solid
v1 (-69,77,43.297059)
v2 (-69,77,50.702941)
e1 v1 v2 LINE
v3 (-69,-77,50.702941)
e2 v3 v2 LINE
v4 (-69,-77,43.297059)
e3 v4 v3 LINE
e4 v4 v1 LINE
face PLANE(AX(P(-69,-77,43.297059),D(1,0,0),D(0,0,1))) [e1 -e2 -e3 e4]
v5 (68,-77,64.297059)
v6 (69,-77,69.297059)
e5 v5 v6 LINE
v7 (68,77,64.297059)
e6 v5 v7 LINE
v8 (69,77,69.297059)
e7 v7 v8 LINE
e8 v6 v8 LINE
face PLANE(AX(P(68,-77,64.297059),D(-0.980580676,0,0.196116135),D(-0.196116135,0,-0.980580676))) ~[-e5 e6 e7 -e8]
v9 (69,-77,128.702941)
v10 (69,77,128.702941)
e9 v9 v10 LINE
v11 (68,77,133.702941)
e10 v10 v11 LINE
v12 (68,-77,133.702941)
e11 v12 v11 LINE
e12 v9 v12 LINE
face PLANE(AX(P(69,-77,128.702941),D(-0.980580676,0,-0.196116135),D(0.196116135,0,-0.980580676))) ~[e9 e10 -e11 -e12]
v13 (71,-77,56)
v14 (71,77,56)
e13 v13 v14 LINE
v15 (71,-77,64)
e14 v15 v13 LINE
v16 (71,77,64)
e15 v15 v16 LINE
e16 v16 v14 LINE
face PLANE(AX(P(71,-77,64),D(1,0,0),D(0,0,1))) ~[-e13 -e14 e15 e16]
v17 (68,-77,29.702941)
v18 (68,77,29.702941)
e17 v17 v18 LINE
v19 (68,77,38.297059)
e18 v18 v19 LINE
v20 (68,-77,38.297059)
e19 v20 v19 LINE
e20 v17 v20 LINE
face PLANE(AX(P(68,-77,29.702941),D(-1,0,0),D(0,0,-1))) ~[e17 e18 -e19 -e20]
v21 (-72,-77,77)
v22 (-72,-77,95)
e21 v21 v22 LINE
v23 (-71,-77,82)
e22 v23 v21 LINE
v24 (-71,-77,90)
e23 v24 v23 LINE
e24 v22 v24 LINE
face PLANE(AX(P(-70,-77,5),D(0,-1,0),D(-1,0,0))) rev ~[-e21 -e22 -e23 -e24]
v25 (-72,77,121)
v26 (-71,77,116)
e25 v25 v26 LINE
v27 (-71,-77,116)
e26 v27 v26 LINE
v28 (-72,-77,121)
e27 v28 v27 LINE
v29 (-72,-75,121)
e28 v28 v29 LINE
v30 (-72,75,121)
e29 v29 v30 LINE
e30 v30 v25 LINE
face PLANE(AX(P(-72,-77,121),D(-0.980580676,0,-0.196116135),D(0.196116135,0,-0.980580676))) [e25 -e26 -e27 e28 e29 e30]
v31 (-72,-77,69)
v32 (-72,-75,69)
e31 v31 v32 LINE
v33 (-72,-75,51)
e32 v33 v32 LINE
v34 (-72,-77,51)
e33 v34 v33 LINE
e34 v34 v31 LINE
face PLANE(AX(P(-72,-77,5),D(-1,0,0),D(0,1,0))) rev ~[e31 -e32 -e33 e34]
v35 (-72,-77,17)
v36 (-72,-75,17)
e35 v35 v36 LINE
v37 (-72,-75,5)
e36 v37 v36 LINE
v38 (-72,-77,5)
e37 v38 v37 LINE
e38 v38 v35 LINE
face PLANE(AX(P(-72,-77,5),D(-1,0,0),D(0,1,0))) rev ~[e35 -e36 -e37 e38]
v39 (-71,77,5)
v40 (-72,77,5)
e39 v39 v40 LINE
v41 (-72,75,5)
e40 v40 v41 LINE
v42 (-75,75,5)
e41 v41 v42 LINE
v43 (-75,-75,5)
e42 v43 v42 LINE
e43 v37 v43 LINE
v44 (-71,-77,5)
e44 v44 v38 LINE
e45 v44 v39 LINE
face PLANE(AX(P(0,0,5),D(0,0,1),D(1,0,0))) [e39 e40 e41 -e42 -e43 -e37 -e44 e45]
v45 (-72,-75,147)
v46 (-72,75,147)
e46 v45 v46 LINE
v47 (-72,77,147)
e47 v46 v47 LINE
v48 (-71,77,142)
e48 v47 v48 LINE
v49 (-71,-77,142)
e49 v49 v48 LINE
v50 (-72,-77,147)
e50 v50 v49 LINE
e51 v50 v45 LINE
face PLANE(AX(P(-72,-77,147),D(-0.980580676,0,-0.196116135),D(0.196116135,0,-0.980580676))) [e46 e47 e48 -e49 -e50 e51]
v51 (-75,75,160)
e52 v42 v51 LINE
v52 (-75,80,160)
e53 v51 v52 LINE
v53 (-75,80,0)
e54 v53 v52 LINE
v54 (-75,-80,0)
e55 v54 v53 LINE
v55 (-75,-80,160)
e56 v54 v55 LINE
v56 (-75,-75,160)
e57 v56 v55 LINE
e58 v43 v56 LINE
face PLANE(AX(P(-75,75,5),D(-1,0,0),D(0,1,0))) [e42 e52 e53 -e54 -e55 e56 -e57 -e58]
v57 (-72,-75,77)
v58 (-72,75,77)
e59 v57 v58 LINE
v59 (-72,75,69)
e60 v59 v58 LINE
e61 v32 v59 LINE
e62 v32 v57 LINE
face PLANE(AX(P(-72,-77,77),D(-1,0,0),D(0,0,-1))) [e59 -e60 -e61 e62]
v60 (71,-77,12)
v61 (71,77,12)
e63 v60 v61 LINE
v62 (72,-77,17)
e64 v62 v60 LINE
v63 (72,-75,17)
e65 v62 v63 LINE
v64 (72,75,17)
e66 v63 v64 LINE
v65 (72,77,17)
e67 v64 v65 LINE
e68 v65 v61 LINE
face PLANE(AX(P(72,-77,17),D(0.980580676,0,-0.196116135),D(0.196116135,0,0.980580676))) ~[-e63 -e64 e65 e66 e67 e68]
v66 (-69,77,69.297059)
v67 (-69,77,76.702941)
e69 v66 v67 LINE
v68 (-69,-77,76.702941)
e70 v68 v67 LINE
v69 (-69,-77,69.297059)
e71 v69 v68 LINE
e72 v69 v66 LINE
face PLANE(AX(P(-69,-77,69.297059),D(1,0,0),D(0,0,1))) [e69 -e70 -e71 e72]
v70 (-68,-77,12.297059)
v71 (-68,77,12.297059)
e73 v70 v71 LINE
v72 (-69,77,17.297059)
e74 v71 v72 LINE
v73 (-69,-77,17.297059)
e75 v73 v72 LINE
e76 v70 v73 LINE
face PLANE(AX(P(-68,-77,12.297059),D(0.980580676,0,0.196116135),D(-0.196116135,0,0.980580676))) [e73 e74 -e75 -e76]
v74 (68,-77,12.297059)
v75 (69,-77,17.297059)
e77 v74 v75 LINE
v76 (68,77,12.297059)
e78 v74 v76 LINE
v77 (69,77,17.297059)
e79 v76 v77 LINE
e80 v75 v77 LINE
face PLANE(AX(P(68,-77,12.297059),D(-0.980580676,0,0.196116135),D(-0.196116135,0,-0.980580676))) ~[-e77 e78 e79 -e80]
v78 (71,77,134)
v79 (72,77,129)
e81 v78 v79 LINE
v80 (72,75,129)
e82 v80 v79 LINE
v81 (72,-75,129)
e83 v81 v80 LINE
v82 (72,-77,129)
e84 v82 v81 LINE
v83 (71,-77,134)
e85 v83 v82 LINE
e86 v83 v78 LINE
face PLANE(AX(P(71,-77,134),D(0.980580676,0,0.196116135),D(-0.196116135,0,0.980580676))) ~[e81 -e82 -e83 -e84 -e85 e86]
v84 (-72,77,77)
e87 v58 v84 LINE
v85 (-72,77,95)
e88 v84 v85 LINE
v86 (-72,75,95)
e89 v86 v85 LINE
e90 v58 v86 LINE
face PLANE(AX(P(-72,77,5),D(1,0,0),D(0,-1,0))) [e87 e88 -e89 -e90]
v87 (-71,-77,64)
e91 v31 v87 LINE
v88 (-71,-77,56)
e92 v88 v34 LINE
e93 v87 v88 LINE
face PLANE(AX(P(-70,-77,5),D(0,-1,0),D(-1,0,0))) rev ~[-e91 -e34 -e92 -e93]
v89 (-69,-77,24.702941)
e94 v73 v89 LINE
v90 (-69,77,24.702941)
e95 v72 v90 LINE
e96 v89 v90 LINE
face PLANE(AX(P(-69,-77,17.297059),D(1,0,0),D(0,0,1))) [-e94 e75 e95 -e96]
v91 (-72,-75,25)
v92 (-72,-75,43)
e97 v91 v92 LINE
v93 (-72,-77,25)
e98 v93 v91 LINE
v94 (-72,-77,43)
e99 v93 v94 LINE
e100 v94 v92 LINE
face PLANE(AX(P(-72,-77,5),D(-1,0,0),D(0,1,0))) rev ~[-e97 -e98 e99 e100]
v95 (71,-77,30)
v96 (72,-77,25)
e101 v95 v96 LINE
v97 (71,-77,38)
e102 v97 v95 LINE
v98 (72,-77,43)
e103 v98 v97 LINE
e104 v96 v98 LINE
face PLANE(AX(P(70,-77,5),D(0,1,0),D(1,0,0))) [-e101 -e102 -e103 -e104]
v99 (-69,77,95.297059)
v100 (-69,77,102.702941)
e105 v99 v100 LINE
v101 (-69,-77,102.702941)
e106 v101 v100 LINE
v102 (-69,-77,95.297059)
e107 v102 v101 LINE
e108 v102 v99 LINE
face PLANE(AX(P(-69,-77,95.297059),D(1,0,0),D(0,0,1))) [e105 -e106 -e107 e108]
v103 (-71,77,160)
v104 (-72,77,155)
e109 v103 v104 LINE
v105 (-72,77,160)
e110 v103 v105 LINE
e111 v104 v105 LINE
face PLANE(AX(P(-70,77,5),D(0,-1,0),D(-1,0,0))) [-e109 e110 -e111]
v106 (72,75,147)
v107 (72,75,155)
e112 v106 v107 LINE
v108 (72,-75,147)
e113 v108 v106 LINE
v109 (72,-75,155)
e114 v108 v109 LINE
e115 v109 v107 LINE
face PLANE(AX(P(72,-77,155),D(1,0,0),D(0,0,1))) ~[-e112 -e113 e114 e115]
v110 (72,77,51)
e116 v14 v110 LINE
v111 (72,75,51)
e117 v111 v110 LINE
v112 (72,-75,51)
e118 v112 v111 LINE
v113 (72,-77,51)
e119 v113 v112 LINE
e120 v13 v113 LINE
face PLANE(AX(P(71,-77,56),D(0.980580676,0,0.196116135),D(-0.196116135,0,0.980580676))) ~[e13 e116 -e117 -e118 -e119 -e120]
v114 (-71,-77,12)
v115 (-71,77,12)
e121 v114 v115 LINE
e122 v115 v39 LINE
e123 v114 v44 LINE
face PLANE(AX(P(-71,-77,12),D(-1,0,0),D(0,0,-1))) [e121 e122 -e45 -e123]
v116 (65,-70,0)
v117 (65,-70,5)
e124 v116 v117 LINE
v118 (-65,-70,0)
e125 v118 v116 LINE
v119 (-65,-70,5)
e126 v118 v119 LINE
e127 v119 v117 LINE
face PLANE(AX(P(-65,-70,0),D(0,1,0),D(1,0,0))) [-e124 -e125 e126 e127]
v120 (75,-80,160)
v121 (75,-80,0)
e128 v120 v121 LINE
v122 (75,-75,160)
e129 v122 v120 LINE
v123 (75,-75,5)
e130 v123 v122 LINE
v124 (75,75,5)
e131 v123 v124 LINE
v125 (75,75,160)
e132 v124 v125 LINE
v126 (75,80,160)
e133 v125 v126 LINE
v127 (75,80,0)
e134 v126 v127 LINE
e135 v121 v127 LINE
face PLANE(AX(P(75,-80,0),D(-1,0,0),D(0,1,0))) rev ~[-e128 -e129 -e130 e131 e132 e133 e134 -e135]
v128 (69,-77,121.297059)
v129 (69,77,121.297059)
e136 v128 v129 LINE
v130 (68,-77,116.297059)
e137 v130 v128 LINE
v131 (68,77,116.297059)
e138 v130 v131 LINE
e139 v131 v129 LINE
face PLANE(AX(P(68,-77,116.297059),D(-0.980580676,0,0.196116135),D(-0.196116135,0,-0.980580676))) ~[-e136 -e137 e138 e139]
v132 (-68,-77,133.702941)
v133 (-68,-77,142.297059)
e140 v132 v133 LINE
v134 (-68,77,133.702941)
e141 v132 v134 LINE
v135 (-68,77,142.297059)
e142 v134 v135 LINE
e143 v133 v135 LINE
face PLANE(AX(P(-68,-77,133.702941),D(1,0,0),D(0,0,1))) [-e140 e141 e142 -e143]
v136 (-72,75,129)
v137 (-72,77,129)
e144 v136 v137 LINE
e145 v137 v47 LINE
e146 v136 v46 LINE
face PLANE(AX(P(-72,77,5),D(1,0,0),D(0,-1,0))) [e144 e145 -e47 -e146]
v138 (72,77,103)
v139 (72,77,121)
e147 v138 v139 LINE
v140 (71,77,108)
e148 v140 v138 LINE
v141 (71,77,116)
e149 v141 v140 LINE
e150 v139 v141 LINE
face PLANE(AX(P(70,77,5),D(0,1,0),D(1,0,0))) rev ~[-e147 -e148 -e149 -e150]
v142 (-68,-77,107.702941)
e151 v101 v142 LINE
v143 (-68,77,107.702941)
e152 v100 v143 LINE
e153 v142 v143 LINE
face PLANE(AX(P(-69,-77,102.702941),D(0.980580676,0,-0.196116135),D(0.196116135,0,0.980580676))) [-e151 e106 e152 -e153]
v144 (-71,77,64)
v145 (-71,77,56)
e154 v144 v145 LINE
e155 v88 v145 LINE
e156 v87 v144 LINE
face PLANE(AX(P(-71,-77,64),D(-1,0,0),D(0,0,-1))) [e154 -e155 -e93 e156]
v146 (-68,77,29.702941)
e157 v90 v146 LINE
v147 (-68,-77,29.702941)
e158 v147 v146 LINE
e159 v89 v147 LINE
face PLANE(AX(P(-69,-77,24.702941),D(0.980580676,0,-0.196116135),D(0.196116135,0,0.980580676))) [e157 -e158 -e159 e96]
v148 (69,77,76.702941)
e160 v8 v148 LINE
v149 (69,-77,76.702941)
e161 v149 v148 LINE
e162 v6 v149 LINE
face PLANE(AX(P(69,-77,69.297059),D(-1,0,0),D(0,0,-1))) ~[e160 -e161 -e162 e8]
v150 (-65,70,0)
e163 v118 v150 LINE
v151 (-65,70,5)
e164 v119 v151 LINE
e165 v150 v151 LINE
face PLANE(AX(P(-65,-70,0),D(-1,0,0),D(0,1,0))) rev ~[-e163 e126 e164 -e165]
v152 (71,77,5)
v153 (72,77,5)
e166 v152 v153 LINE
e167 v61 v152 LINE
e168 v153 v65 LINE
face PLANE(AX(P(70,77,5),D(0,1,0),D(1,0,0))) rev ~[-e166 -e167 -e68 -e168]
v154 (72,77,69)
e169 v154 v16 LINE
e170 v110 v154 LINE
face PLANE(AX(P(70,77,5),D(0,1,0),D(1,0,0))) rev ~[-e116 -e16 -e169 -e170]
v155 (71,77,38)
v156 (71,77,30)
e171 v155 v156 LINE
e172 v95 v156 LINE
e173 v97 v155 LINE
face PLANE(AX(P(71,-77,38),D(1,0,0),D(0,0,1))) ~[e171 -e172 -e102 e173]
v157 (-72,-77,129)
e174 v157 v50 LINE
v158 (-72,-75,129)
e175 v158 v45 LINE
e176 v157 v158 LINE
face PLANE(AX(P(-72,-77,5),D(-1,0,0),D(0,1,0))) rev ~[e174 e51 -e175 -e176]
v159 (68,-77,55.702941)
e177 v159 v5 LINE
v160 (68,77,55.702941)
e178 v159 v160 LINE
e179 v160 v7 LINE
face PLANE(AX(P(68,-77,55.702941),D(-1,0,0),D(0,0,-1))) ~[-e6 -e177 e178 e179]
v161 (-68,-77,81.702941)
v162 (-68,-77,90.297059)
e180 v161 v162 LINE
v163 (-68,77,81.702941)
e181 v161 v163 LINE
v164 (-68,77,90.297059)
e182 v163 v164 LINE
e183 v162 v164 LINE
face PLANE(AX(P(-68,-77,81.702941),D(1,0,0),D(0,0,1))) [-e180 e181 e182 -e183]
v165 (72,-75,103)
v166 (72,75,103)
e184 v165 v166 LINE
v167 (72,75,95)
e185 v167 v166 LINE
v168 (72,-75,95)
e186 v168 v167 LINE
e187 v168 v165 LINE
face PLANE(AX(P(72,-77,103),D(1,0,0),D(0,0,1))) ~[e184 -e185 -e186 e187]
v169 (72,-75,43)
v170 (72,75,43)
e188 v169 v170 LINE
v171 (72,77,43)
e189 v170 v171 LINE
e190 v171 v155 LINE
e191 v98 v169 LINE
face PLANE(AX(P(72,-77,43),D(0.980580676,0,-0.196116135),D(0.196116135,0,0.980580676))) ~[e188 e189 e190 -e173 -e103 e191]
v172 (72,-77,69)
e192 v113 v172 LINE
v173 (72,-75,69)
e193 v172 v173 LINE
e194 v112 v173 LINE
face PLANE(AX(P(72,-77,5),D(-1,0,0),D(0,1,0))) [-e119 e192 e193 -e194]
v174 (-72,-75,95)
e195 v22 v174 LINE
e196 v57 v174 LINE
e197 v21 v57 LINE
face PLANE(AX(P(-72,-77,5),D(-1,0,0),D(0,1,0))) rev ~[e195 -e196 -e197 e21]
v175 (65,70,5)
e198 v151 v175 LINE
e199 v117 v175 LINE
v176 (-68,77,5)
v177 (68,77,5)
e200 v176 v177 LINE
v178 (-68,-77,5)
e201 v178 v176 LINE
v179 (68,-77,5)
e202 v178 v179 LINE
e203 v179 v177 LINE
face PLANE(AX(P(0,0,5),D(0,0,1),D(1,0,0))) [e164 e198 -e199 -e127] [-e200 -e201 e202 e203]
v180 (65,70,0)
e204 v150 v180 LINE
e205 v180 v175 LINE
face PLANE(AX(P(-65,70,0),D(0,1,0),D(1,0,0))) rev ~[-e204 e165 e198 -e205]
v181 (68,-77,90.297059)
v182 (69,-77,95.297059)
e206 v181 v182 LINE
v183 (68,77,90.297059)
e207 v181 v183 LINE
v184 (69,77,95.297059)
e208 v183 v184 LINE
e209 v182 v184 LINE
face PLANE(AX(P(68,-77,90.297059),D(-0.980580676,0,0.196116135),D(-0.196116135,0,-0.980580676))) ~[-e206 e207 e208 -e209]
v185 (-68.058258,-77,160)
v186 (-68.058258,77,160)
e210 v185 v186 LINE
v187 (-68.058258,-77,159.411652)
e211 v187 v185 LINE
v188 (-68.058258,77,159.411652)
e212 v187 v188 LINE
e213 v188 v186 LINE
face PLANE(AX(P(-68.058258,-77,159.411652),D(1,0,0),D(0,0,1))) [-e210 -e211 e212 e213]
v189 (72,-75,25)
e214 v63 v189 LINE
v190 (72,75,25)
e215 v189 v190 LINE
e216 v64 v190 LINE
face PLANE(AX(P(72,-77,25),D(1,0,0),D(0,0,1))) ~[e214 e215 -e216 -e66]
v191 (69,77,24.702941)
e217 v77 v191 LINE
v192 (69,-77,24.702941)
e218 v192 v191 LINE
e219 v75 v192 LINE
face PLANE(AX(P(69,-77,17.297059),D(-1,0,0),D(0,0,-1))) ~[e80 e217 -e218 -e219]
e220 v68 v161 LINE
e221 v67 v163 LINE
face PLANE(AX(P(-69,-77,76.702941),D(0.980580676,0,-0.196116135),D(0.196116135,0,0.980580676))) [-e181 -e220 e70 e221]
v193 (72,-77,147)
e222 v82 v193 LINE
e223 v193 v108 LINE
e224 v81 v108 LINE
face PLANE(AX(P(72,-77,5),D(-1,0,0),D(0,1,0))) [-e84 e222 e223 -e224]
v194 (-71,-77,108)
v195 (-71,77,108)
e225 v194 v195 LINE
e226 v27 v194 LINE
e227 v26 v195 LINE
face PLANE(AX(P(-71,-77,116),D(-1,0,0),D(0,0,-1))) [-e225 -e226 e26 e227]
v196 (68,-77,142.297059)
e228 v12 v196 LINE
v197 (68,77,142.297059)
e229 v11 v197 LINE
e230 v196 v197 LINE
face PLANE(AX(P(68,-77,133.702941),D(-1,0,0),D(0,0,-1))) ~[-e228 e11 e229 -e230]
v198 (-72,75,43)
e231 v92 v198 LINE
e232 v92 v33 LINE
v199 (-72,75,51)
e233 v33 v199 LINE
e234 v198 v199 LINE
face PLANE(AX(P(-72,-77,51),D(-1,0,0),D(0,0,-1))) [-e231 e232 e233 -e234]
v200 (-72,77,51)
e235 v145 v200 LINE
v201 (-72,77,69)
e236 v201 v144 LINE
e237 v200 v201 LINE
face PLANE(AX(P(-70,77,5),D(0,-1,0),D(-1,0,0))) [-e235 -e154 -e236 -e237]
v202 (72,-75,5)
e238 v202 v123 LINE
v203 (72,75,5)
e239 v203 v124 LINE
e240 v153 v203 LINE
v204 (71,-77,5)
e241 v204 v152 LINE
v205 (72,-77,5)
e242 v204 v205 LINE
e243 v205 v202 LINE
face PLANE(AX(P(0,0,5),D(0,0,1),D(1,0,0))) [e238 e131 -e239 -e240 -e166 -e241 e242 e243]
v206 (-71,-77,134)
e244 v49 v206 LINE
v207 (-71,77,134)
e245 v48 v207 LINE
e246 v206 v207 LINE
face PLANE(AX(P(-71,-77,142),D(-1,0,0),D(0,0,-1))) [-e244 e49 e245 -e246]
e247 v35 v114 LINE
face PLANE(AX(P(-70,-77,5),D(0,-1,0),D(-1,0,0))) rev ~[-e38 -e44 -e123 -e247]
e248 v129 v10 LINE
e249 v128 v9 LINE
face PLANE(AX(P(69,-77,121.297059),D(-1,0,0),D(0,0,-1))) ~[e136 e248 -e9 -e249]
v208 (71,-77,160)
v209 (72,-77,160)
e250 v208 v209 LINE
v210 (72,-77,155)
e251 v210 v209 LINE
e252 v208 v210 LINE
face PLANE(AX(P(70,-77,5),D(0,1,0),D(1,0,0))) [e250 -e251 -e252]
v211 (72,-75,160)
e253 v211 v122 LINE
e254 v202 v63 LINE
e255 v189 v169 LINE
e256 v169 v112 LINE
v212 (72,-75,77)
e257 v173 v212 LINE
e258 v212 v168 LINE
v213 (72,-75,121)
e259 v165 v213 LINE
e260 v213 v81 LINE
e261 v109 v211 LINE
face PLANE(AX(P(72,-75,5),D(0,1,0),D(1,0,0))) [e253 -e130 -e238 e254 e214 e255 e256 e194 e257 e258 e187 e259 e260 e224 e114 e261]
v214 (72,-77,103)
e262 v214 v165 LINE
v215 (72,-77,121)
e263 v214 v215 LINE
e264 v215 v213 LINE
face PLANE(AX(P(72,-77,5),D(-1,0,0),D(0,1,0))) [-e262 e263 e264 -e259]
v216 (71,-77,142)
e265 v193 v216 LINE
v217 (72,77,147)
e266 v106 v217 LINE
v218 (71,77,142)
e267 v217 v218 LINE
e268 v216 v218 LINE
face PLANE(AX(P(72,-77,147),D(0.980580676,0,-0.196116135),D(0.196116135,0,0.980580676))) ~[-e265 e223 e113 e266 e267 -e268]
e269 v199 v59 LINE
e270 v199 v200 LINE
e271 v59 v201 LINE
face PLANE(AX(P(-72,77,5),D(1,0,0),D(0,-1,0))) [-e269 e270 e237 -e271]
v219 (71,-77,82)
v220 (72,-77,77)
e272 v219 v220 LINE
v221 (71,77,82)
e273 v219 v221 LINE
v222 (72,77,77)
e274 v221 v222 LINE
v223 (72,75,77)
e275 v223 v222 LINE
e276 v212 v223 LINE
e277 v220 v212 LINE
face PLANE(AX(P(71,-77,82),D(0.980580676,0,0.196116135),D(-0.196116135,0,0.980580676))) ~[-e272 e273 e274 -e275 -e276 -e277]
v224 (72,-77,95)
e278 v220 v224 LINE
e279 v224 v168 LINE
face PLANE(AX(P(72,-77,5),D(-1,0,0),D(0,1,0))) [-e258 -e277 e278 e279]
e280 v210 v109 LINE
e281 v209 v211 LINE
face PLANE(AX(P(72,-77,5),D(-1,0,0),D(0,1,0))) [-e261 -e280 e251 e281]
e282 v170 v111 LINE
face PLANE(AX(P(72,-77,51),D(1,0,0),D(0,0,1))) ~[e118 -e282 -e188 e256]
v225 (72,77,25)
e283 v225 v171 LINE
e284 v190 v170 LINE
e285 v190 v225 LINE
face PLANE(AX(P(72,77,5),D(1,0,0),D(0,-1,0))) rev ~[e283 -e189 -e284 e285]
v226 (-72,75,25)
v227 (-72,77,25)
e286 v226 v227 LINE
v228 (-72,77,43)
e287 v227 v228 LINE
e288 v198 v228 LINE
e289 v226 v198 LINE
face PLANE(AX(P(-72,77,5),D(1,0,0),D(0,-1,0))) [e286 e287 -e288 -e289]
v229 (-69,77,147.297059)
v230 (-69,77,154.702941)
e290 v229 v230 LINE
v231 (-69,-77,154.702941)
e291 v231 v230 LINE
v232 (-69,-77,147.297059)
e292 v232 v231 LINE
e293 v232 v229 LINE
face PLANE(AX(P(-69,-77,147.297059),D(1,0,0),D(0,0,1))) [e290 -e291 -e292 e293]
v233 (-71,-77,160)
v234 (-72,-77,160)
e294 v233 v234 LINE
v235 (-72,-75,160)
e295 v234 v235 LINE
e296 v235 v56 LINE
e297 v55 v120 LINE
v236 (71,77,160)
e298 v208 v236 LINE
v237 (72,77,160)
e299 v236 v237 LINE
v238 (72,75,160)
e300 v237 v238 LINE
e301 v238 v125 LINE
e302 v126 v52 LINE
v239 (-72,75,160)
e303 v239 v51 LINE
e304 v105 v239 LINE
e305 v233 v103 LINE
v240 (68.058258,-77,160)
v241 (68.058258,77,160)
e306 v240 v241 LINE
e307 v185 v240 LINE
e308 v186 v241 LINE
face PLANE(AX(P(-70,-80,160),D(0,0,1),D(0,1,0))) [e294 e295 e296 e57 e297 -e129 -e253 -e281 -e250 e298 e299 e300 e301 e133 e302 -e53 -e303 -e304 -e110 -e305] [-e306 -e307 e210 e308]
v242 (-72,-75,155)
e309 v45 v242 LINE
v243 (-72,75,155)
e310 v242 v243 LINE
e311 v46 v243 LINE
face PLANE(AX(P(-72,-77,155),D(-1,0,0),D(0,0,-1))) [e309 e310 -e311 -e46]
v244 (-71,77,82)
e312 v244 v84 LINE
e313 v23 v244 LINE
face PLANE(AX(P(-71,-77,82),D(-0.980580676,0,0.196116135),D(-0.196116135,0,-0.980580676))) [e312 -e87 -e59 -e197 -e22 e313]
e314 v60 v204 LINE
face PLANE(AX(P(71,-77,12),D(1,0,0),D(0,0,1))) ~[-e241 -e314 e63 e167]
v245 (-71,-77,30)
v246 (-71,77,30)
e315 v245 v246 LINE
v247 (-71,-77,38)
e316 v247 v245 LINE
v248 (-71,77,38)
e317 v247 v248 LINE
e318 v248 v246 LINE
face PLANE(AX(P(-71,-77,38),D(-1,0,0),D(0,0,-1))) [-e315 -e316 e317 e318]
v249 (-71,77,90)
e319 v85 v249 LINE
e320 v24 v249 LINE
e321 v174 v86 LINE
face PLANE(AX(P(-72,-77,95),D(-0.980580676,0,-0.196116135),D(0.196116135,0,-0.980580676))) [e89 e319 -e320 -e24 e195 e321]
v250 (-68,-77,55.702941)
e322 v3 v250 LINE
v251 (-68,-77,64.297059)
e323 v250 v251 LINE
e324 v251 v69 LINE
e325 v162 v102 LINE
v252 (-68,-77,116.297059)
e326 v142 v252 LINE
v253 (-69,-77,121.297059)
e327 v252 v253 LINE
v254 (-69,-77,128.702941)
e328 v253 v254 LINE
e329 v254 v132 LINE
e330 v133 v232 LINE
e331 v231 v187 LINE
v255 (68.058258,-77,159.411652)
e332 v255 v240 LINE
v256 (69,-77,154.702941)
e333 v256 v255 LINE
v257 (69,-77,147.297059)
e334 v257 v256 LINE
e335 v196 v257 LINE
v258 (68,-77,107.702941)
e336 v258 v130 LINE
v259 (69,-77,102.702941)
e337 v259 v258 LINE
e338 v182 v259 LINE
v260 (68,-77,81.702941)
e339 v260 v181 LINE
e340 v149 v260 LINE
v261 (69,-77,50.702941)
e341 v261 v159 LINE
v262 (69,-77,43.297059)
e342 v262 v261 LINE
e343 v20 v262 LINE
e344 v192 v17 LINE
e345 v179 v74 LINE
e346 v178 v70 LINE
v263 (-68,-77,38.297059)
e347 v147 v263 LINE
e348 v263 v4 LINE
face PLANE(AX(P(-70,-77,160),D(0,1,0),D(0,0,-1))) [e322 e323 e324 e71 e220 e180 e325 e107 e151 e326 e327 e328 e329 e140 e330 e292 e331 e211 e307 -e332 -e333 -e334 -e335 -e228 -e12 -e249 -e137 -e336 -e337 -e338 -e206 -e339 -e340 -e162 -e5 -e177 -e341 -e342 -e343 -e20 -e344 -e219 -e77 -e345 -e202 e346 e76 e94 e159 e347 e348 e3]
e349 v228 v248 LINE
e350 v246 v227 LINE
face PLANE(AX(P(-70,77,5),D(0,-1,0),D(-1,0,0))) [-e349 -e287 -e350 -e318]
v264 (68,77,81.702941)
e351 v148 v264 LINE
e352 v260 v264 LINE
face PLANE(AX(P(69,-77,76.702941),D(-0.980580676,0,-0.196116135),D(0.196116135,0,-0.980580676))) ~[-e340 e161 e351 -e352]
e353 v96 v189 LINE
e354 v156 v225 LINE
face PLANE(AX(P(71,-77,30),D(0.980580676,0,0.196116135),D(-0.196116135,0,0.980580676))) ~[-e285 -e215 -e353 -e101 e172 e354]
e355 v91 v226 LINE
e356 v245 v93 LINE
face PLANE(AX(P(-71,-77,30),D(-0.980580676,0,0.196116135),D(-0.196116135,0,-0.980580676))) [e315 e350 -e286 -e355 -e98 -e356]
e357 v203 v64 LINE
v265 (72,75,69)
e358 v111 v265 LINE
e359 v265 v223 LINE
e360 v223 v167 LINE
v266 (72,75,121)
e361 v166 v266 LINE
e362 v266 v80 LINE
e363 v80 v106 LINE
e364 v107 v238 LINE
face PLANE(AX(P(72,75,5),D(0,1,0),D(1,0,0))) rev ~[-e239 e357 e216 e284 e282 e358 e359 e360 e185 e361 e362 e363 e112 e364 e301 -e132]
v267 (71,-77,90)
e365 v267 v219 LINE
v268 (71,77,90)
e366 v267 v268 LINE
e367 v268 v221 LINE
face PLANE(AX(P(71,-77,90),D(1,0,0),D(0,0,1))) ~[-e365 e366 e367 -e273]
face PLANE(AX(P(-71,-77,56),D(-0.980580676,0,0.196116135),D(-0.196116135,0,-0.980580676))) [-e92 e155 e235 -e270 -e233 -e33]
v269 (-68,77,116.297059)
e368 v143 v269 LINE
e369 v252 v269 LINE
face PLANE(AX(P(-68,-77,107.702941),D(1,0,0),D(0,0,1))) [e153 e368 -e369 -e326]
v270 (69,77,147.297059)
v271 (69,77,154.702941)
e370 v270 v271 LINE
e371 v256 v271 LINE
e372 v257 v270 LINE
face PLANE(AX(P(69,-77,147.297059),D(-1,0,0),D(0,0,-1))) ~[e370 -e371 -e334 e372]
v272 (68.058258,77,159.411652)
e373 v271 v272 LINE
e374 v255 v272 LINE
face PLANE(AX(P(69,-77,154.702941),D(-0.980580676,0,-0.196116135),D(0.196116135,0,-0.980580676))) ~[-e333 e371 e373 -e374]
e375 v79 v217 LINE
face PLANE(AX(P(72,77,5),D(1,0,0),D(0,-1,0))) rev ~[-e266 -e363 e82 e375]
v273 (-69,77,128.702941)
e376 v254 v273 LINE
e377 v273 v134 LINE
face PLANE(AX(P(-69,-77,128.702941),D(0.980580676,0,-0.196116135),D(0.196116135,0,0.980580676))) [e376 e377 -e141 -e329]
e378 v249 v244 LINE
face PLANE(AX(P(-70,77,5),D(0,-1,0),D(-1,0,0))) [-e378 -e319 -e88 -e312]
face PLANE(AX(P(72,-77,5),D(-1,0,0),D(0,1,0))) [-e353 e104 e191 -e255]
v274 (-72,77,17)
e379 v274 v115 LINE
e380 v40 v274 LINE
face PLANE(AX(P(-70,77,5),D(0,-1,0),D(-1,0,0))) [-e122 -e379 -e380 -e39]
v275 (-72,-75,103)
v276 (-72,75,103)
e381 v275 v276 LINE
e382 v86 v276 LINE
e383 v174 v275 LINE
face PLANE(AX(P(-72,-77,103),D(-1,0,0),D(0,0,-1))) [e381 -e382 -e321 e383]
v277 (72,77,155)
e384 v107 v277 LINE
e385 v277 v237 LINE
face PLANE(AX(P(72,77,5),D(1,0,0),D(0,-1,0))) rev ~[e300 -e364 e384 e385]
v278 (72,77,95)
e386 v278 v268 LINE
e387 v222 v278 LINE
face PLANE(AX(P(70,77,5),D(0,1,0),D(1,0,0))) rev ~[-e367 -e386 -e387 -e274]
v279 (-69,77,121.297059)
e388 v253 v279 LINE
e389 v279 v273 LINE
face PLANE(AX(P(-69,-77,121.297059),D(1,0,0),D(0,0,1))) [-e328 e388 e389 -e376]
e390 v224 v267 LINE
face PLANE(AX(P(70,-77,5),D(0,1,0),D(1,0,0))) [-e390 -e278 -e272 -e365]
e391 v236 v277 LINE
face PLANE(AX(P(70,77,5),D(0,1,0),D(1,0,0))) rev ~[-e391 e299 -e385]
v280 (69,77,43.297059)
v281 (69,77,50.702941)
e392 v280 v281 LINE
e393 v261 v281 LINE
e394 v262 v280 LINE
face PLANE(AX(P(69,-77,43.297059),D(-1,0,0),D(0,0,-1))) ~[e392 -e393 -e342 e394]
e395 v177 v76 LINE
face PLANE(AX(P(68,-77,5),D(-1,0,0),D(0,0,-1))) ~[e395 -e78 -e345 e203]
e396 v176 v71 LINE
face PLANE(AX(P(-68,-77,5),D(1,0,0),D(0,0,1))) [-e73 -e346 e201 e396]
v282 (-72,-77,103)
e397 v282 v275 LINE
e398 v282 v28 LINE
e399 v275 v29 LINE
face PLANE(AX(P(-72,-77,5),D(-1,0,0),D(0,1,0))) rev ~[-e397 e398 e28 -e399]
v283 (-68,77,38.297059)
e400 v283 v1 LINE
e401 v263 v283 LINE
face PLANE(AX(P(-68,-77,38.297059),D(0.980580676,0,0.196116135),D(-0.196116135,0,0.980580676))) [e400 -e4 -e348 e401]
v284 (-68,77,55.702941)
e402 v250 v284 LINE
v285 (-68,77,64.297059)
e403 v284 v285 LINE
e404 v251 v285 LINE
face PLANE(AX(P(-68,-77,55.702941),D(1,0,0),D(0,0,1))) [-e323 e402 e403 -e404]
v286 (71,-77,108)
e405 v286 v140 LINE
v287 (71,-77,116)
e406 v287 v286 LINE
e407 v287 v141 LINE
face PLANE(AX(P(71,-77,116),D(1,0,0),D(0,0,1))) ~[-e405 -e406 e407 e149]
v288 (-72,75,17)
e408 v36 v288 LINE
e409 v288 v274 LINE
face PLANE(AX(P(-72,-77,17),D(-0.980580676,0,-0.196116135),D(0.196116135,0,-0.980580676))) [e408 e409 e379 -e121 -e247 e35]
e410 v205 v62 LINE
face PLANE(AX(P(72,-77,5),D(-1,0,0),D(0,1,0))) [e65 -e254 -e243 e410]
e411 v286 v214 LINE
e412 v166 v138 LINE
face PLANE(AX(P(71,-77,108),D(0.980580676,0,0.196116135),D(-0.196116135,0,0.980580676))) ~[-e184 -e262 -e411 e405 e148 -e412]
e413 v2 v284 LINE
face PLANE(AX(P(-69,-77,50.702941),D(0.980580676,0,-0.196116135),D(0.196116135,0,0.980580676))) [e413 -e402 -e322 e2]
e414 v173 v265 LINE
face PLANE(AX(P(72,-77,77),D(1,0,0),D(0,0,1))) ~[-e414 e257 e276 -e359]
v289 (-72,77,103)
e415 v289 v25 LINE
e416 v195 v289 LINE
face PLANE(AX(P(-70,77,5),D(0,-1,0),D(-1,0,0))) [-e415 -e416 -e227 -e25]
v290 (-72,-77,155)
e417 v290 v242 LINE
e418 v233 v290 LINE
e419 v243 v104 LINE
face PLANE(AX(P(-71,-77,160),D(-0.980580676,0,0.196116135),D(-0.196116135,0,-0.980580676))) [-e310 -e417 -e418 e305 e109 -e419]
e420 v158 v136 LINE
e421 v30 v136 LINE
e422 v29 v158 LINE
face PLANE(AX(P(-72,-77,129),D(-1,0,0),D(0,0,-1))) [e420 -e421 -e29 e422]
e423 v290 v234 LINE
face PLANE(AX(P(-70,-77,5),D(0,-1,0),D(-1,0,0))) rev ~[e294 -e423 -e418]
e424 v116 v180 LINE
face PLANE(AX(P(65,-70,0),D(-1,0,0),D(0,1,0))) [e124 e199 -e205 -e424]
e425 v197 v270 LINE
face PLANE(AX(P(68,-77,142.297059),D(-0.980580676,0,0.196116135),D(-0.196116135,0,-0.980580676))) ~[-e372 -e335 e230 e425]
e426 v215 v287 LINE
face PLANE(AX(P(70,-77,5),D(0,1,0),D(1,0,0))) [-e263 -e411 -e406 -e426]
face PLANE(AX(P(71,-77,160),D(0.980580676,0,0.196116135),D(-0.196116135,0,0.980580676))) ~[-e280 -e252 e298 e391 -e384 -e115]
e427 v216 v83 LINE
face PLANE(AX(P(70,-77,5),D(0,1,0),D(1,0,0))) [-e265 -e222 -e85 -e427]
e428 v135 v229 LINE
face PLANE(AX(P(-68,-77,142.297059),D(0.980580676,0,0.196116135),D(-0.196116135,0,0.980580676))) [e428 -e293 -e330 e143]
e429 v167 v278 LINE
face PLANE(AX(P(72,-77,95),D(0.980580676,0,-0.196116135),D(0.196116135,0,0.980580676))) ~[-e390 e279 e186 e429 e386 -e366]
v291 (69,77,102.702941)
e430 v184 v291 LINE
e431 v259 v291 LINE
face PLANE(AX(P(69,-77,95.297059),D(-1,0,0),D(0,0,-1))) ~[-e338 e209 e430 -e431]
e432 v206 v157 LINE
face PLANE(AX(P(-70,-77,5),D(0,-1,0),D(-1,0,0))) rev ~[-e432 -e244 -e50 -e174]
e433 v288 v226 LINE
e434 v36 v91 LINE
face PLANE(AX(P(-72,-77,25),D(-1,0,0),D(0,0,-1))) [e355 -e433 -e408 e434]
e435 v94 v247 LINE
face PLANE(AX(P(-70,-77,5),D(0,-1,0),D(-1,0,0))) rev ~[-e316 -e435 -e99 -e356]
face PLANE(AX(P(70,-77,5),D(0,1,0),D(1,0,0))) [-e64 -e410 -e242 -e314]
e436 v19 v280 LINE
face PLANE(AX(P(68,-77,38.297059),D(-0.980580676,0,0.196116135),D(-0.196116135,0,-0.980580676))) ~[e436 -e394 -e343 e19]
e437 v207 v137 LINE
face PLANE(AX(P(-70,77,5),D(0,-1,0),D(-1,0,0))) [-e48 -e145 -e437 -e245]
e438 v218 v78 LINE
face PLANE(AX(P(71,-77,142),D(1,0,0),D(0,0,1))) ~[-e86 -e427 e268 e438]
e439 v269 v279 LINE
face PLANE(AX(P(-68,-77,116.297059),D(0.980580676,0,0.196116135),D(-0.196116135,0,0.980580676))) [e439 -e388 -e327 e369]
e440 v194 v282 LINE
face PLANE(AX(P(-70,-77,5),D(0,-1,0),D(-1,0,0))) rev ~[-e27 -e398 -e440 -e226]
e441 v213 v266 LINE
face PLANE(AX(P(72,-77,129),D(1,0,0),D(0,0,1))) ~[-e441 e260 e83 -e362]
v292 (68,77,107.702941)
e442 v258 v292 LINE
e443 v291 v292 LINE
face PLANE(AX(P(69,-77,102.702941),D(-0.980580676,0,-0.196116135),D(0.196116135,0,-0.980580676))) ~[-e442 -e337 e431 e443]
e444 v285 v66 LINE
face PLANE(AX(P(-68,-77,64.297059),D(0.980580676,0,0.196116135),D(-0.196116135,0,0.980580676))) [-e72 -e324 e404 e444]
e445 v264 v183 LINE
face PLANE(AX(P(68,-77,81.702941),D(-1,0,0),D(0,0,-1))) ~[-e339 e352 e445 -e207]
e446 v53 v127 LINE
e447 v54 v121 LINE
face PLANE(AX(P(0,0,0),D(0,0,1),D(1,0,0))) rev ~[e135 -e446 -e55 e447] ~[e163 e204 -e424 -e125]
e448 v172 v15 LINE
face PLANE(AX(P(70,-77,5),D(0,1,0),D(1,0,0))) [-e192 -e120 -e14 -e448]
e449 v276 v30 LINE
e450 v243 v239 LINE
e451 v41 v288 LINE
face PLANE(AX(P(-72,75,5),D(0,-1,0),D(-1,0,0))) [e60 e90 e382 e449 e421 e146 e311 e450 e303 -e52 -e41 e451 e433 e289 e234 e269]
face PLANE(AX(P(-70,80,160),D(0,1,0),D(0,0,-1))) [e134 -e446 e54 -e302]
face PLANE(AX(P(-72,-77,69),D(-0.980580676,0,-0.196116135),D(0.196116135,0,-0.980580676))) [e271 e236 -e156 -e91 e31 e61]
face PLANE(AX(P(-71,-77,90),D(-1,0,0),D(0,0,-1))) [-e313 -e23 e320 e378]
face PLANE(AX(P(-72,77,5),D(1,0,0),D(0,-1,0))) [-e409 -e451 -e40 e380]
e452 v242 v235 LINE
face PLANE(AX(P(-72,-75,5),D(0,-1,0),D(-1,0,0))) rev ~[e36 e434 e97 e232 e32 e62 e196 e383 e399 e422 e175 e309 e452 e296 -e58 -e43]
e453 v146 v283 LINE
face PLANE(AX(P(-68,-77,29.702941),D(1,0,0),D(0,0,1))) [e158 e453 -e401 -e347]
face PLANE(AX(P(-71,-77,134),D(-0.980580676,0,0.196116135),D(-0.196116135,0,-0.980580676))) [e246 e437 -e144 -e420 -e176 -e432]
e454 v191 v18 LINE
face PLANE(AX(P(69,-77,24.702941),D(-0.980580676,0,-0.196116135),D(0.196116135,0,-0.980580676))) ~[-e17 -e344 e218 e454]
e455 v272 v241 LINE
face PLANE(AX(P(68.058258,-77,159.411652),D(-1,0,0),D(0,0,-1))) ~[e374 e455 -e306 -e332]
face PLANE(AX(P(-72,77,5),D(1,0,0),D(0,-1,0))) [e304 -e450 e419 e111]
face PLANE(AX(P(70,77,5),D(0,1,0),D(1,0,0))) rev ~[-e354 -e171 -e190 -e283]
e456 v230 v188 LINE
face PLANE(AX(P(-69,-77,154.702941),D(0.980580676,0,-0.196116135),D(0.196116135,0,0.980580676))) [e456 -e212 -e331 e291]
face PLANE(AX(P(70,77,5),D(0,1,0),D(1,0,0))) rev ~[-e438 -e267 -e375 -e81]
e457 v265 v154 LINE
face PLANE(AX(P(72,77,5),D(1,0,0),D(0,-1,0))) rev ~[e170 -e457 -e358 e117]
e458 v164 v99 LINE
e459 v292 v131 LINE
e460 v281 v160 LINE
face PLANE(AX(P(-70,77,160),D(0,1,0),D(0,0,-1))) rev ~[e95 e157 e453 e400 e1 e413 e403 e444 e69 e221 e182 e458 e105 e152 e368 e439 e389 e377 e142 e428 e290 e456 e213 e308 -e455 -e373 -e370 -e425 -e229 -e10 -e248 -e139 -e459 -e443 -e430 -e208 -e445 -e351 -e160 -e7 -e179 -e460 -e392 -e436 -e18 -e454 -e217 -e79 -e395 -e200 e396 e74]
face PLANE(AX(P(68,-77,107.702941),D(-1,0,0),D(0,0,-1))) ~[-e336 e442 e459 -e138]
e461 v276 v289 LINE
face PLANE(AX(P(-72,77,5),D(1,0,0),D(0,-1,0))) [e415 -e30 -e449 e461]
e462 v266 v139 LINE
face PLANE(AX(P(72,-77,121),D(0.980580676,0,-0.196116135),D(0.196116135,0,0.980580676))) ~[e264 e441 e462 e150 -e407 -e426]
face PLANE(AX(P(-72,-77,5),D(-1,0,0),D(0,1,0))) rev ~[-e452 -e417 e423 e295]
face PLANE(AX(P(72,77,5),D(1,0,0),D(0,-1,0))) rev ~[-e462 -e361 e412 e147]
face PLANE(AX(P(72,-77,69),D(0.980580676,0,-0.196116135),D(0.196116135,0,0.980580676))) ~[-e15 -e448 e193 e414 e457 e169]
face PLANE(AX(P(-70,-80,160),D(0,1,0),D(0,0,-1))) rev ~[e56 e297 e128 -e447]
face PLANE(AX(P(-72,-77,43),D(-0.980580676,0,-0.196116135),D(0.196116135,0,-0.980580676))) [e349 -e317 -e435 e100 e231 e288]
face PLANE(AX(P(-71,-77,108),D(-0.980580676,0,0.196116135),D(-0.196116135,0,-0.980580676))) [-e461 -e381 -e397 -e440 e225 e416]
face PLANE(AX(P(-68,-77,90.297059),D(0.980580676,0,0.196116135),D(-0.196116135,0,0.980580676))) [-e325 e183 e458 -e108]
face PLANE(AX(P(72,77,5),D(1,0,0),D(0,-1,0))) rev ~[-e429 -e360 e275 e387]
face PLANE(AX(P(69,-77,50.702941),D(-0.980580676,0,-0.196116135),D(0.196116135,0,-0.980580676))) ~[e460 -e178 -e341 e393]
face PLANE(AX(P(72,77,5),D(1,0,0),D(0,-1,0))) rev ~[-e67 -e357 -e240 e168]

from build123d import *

# Parameters (mm, degrees)
SKETCH1_W           = 150
SKETCH1_H           = 160
SKETCH1_W_2         = 130
SKETCH1_H_2         = 140
BOSS_EXTRUDE1_DEPTH = 5
BOSS_EXTRUDE2_DEPTH = 155
BOSS_EXTRUDE3_DEPTH = 154
SKETCH4_W           = 155
SKETCH4_H           = 3
BOSS_EXTRUDE4_DEPTH = 140
SKETCH5_W           = 155
SKETCH5_H           = 3
BOSS_EXTRUDE5_DEPTH = 140


with BuildPart() as part:
    # Sketch1 → Boss-Extrude1 (new body)
    with BuildSketch(Plane.XY):
        Rectangle(SKETCH1_W, SKETCH1_H)
        Rectangle(SKETCH1_W_2, SKETCH1_H_2, mode=Mode.SUBTRACT)
    extrude(amount=BOSS_EXTRUDE1_DEPTH)

    # Sketch2 → Boss-Extrude2 (add)
    with BuildSketch(Plane.XY.offset(5)):
        Polygon((-75, 80), (-70, 80), (-70, 77), (-72, 77), (-72, 75), (-75, 75), align=None)
        Polygon((72, 75), (75, 75), (75, 80), (70, 80), (70, 77), (72, 77), align=None)
        Polygon((75, -75), (75, -80), (70, -80), (70, -77), (72, -77), (72, -75), align=None)
        Polygon((-70, -80), (-70, -77), (-72, -77), (-72, -75), (-75, -75), (-75, -80), align=None)
    extrude(amount=BOSS_EXTRUDE2_DEPTH)

    # Sketch3 → Boss-Extrude3 (add)
    with BuildSketch(Plane(origin=(0, -77, 0), x_dir=(1, 0, 0), z_dir=(0, 1, 0))):
        Polygon((-71, -160), (-72, -155), (-72, -147), (-71, -142), (-71, -134), (-72, -129), (-72, -121), (-71, -116), (-71, -108), (-72, -103), (-72, -95), (-71, -90), (-71, -82), (-72, -77), (-72, -69), (-71, -64), (-71, -56), (-72, -51), (-72, -43), (-71, -38), (-71, -30), (-72, -25), (-72, -17), (-71, -12), (-71, -5), (-68, -5), (-68, -12.297058541), (-69, -17.297058541), (-69, -24.702941459), (-68, -29.702941459), (-68, -38.297058541), (-69, -43.297058541), (-69, -50.702941459), (-68, -55.702941459), (-68, -64.297058541), (-69, -69.297058541), (-69, -76.702941459), (-68, -81.702941459), (-68, -90.297058541), (-69, -95.297058541), (-69, -102.702941459), (-68, -107.702941459), (-68, -116.297058541), (-69, -121.297058541), (-69, -128.702941459), (-68, -133.702941459), (-68, -142.297058541), (-69, -147.297058541), (-69, -154.702941459), (-68.058257973, -159.411651595), (-68.058257973, -160), align=None)
    boss_extrude3 = extrude(amount=BOSS_EXTRUDE3_DEPTH)

    # Mirror1: Boss-Extrude3 across plane
    add(boss_extrude3.mirror(Plane(origin=(0, 0, 0), x_dir=(0, 0, 1), z_dir=(1, 0, 0))))

    # Sketch4 → Boss-Extrude4 (add)
    with BuildSketch(Plane(origin=(-70, 0, 0), x_dir=(0, 0, -1), z_dir=(1, 0, 0))):
        with Locations((-82.5, 78.5)):
            Rectangle(SKETCH4_W, SKETCH4_H)
    extrude(amount=BOSS_EXTRUDE4_DEPTH)

    # Sketch5 → Boss-Extrude5 (add)
    with BuildSketch(Plane(origin=(-70, 0, 0), x_dir=(0, 0, -1), z_dir=(1, 0, 0))):
        with Locations((-82.5, -78.5)):
            Rectangle(SKETCH5_W, SKETCH5_H)
    extrude(amount=BOSS_EXTRUDE5_DEPTH)


solid = part.part
